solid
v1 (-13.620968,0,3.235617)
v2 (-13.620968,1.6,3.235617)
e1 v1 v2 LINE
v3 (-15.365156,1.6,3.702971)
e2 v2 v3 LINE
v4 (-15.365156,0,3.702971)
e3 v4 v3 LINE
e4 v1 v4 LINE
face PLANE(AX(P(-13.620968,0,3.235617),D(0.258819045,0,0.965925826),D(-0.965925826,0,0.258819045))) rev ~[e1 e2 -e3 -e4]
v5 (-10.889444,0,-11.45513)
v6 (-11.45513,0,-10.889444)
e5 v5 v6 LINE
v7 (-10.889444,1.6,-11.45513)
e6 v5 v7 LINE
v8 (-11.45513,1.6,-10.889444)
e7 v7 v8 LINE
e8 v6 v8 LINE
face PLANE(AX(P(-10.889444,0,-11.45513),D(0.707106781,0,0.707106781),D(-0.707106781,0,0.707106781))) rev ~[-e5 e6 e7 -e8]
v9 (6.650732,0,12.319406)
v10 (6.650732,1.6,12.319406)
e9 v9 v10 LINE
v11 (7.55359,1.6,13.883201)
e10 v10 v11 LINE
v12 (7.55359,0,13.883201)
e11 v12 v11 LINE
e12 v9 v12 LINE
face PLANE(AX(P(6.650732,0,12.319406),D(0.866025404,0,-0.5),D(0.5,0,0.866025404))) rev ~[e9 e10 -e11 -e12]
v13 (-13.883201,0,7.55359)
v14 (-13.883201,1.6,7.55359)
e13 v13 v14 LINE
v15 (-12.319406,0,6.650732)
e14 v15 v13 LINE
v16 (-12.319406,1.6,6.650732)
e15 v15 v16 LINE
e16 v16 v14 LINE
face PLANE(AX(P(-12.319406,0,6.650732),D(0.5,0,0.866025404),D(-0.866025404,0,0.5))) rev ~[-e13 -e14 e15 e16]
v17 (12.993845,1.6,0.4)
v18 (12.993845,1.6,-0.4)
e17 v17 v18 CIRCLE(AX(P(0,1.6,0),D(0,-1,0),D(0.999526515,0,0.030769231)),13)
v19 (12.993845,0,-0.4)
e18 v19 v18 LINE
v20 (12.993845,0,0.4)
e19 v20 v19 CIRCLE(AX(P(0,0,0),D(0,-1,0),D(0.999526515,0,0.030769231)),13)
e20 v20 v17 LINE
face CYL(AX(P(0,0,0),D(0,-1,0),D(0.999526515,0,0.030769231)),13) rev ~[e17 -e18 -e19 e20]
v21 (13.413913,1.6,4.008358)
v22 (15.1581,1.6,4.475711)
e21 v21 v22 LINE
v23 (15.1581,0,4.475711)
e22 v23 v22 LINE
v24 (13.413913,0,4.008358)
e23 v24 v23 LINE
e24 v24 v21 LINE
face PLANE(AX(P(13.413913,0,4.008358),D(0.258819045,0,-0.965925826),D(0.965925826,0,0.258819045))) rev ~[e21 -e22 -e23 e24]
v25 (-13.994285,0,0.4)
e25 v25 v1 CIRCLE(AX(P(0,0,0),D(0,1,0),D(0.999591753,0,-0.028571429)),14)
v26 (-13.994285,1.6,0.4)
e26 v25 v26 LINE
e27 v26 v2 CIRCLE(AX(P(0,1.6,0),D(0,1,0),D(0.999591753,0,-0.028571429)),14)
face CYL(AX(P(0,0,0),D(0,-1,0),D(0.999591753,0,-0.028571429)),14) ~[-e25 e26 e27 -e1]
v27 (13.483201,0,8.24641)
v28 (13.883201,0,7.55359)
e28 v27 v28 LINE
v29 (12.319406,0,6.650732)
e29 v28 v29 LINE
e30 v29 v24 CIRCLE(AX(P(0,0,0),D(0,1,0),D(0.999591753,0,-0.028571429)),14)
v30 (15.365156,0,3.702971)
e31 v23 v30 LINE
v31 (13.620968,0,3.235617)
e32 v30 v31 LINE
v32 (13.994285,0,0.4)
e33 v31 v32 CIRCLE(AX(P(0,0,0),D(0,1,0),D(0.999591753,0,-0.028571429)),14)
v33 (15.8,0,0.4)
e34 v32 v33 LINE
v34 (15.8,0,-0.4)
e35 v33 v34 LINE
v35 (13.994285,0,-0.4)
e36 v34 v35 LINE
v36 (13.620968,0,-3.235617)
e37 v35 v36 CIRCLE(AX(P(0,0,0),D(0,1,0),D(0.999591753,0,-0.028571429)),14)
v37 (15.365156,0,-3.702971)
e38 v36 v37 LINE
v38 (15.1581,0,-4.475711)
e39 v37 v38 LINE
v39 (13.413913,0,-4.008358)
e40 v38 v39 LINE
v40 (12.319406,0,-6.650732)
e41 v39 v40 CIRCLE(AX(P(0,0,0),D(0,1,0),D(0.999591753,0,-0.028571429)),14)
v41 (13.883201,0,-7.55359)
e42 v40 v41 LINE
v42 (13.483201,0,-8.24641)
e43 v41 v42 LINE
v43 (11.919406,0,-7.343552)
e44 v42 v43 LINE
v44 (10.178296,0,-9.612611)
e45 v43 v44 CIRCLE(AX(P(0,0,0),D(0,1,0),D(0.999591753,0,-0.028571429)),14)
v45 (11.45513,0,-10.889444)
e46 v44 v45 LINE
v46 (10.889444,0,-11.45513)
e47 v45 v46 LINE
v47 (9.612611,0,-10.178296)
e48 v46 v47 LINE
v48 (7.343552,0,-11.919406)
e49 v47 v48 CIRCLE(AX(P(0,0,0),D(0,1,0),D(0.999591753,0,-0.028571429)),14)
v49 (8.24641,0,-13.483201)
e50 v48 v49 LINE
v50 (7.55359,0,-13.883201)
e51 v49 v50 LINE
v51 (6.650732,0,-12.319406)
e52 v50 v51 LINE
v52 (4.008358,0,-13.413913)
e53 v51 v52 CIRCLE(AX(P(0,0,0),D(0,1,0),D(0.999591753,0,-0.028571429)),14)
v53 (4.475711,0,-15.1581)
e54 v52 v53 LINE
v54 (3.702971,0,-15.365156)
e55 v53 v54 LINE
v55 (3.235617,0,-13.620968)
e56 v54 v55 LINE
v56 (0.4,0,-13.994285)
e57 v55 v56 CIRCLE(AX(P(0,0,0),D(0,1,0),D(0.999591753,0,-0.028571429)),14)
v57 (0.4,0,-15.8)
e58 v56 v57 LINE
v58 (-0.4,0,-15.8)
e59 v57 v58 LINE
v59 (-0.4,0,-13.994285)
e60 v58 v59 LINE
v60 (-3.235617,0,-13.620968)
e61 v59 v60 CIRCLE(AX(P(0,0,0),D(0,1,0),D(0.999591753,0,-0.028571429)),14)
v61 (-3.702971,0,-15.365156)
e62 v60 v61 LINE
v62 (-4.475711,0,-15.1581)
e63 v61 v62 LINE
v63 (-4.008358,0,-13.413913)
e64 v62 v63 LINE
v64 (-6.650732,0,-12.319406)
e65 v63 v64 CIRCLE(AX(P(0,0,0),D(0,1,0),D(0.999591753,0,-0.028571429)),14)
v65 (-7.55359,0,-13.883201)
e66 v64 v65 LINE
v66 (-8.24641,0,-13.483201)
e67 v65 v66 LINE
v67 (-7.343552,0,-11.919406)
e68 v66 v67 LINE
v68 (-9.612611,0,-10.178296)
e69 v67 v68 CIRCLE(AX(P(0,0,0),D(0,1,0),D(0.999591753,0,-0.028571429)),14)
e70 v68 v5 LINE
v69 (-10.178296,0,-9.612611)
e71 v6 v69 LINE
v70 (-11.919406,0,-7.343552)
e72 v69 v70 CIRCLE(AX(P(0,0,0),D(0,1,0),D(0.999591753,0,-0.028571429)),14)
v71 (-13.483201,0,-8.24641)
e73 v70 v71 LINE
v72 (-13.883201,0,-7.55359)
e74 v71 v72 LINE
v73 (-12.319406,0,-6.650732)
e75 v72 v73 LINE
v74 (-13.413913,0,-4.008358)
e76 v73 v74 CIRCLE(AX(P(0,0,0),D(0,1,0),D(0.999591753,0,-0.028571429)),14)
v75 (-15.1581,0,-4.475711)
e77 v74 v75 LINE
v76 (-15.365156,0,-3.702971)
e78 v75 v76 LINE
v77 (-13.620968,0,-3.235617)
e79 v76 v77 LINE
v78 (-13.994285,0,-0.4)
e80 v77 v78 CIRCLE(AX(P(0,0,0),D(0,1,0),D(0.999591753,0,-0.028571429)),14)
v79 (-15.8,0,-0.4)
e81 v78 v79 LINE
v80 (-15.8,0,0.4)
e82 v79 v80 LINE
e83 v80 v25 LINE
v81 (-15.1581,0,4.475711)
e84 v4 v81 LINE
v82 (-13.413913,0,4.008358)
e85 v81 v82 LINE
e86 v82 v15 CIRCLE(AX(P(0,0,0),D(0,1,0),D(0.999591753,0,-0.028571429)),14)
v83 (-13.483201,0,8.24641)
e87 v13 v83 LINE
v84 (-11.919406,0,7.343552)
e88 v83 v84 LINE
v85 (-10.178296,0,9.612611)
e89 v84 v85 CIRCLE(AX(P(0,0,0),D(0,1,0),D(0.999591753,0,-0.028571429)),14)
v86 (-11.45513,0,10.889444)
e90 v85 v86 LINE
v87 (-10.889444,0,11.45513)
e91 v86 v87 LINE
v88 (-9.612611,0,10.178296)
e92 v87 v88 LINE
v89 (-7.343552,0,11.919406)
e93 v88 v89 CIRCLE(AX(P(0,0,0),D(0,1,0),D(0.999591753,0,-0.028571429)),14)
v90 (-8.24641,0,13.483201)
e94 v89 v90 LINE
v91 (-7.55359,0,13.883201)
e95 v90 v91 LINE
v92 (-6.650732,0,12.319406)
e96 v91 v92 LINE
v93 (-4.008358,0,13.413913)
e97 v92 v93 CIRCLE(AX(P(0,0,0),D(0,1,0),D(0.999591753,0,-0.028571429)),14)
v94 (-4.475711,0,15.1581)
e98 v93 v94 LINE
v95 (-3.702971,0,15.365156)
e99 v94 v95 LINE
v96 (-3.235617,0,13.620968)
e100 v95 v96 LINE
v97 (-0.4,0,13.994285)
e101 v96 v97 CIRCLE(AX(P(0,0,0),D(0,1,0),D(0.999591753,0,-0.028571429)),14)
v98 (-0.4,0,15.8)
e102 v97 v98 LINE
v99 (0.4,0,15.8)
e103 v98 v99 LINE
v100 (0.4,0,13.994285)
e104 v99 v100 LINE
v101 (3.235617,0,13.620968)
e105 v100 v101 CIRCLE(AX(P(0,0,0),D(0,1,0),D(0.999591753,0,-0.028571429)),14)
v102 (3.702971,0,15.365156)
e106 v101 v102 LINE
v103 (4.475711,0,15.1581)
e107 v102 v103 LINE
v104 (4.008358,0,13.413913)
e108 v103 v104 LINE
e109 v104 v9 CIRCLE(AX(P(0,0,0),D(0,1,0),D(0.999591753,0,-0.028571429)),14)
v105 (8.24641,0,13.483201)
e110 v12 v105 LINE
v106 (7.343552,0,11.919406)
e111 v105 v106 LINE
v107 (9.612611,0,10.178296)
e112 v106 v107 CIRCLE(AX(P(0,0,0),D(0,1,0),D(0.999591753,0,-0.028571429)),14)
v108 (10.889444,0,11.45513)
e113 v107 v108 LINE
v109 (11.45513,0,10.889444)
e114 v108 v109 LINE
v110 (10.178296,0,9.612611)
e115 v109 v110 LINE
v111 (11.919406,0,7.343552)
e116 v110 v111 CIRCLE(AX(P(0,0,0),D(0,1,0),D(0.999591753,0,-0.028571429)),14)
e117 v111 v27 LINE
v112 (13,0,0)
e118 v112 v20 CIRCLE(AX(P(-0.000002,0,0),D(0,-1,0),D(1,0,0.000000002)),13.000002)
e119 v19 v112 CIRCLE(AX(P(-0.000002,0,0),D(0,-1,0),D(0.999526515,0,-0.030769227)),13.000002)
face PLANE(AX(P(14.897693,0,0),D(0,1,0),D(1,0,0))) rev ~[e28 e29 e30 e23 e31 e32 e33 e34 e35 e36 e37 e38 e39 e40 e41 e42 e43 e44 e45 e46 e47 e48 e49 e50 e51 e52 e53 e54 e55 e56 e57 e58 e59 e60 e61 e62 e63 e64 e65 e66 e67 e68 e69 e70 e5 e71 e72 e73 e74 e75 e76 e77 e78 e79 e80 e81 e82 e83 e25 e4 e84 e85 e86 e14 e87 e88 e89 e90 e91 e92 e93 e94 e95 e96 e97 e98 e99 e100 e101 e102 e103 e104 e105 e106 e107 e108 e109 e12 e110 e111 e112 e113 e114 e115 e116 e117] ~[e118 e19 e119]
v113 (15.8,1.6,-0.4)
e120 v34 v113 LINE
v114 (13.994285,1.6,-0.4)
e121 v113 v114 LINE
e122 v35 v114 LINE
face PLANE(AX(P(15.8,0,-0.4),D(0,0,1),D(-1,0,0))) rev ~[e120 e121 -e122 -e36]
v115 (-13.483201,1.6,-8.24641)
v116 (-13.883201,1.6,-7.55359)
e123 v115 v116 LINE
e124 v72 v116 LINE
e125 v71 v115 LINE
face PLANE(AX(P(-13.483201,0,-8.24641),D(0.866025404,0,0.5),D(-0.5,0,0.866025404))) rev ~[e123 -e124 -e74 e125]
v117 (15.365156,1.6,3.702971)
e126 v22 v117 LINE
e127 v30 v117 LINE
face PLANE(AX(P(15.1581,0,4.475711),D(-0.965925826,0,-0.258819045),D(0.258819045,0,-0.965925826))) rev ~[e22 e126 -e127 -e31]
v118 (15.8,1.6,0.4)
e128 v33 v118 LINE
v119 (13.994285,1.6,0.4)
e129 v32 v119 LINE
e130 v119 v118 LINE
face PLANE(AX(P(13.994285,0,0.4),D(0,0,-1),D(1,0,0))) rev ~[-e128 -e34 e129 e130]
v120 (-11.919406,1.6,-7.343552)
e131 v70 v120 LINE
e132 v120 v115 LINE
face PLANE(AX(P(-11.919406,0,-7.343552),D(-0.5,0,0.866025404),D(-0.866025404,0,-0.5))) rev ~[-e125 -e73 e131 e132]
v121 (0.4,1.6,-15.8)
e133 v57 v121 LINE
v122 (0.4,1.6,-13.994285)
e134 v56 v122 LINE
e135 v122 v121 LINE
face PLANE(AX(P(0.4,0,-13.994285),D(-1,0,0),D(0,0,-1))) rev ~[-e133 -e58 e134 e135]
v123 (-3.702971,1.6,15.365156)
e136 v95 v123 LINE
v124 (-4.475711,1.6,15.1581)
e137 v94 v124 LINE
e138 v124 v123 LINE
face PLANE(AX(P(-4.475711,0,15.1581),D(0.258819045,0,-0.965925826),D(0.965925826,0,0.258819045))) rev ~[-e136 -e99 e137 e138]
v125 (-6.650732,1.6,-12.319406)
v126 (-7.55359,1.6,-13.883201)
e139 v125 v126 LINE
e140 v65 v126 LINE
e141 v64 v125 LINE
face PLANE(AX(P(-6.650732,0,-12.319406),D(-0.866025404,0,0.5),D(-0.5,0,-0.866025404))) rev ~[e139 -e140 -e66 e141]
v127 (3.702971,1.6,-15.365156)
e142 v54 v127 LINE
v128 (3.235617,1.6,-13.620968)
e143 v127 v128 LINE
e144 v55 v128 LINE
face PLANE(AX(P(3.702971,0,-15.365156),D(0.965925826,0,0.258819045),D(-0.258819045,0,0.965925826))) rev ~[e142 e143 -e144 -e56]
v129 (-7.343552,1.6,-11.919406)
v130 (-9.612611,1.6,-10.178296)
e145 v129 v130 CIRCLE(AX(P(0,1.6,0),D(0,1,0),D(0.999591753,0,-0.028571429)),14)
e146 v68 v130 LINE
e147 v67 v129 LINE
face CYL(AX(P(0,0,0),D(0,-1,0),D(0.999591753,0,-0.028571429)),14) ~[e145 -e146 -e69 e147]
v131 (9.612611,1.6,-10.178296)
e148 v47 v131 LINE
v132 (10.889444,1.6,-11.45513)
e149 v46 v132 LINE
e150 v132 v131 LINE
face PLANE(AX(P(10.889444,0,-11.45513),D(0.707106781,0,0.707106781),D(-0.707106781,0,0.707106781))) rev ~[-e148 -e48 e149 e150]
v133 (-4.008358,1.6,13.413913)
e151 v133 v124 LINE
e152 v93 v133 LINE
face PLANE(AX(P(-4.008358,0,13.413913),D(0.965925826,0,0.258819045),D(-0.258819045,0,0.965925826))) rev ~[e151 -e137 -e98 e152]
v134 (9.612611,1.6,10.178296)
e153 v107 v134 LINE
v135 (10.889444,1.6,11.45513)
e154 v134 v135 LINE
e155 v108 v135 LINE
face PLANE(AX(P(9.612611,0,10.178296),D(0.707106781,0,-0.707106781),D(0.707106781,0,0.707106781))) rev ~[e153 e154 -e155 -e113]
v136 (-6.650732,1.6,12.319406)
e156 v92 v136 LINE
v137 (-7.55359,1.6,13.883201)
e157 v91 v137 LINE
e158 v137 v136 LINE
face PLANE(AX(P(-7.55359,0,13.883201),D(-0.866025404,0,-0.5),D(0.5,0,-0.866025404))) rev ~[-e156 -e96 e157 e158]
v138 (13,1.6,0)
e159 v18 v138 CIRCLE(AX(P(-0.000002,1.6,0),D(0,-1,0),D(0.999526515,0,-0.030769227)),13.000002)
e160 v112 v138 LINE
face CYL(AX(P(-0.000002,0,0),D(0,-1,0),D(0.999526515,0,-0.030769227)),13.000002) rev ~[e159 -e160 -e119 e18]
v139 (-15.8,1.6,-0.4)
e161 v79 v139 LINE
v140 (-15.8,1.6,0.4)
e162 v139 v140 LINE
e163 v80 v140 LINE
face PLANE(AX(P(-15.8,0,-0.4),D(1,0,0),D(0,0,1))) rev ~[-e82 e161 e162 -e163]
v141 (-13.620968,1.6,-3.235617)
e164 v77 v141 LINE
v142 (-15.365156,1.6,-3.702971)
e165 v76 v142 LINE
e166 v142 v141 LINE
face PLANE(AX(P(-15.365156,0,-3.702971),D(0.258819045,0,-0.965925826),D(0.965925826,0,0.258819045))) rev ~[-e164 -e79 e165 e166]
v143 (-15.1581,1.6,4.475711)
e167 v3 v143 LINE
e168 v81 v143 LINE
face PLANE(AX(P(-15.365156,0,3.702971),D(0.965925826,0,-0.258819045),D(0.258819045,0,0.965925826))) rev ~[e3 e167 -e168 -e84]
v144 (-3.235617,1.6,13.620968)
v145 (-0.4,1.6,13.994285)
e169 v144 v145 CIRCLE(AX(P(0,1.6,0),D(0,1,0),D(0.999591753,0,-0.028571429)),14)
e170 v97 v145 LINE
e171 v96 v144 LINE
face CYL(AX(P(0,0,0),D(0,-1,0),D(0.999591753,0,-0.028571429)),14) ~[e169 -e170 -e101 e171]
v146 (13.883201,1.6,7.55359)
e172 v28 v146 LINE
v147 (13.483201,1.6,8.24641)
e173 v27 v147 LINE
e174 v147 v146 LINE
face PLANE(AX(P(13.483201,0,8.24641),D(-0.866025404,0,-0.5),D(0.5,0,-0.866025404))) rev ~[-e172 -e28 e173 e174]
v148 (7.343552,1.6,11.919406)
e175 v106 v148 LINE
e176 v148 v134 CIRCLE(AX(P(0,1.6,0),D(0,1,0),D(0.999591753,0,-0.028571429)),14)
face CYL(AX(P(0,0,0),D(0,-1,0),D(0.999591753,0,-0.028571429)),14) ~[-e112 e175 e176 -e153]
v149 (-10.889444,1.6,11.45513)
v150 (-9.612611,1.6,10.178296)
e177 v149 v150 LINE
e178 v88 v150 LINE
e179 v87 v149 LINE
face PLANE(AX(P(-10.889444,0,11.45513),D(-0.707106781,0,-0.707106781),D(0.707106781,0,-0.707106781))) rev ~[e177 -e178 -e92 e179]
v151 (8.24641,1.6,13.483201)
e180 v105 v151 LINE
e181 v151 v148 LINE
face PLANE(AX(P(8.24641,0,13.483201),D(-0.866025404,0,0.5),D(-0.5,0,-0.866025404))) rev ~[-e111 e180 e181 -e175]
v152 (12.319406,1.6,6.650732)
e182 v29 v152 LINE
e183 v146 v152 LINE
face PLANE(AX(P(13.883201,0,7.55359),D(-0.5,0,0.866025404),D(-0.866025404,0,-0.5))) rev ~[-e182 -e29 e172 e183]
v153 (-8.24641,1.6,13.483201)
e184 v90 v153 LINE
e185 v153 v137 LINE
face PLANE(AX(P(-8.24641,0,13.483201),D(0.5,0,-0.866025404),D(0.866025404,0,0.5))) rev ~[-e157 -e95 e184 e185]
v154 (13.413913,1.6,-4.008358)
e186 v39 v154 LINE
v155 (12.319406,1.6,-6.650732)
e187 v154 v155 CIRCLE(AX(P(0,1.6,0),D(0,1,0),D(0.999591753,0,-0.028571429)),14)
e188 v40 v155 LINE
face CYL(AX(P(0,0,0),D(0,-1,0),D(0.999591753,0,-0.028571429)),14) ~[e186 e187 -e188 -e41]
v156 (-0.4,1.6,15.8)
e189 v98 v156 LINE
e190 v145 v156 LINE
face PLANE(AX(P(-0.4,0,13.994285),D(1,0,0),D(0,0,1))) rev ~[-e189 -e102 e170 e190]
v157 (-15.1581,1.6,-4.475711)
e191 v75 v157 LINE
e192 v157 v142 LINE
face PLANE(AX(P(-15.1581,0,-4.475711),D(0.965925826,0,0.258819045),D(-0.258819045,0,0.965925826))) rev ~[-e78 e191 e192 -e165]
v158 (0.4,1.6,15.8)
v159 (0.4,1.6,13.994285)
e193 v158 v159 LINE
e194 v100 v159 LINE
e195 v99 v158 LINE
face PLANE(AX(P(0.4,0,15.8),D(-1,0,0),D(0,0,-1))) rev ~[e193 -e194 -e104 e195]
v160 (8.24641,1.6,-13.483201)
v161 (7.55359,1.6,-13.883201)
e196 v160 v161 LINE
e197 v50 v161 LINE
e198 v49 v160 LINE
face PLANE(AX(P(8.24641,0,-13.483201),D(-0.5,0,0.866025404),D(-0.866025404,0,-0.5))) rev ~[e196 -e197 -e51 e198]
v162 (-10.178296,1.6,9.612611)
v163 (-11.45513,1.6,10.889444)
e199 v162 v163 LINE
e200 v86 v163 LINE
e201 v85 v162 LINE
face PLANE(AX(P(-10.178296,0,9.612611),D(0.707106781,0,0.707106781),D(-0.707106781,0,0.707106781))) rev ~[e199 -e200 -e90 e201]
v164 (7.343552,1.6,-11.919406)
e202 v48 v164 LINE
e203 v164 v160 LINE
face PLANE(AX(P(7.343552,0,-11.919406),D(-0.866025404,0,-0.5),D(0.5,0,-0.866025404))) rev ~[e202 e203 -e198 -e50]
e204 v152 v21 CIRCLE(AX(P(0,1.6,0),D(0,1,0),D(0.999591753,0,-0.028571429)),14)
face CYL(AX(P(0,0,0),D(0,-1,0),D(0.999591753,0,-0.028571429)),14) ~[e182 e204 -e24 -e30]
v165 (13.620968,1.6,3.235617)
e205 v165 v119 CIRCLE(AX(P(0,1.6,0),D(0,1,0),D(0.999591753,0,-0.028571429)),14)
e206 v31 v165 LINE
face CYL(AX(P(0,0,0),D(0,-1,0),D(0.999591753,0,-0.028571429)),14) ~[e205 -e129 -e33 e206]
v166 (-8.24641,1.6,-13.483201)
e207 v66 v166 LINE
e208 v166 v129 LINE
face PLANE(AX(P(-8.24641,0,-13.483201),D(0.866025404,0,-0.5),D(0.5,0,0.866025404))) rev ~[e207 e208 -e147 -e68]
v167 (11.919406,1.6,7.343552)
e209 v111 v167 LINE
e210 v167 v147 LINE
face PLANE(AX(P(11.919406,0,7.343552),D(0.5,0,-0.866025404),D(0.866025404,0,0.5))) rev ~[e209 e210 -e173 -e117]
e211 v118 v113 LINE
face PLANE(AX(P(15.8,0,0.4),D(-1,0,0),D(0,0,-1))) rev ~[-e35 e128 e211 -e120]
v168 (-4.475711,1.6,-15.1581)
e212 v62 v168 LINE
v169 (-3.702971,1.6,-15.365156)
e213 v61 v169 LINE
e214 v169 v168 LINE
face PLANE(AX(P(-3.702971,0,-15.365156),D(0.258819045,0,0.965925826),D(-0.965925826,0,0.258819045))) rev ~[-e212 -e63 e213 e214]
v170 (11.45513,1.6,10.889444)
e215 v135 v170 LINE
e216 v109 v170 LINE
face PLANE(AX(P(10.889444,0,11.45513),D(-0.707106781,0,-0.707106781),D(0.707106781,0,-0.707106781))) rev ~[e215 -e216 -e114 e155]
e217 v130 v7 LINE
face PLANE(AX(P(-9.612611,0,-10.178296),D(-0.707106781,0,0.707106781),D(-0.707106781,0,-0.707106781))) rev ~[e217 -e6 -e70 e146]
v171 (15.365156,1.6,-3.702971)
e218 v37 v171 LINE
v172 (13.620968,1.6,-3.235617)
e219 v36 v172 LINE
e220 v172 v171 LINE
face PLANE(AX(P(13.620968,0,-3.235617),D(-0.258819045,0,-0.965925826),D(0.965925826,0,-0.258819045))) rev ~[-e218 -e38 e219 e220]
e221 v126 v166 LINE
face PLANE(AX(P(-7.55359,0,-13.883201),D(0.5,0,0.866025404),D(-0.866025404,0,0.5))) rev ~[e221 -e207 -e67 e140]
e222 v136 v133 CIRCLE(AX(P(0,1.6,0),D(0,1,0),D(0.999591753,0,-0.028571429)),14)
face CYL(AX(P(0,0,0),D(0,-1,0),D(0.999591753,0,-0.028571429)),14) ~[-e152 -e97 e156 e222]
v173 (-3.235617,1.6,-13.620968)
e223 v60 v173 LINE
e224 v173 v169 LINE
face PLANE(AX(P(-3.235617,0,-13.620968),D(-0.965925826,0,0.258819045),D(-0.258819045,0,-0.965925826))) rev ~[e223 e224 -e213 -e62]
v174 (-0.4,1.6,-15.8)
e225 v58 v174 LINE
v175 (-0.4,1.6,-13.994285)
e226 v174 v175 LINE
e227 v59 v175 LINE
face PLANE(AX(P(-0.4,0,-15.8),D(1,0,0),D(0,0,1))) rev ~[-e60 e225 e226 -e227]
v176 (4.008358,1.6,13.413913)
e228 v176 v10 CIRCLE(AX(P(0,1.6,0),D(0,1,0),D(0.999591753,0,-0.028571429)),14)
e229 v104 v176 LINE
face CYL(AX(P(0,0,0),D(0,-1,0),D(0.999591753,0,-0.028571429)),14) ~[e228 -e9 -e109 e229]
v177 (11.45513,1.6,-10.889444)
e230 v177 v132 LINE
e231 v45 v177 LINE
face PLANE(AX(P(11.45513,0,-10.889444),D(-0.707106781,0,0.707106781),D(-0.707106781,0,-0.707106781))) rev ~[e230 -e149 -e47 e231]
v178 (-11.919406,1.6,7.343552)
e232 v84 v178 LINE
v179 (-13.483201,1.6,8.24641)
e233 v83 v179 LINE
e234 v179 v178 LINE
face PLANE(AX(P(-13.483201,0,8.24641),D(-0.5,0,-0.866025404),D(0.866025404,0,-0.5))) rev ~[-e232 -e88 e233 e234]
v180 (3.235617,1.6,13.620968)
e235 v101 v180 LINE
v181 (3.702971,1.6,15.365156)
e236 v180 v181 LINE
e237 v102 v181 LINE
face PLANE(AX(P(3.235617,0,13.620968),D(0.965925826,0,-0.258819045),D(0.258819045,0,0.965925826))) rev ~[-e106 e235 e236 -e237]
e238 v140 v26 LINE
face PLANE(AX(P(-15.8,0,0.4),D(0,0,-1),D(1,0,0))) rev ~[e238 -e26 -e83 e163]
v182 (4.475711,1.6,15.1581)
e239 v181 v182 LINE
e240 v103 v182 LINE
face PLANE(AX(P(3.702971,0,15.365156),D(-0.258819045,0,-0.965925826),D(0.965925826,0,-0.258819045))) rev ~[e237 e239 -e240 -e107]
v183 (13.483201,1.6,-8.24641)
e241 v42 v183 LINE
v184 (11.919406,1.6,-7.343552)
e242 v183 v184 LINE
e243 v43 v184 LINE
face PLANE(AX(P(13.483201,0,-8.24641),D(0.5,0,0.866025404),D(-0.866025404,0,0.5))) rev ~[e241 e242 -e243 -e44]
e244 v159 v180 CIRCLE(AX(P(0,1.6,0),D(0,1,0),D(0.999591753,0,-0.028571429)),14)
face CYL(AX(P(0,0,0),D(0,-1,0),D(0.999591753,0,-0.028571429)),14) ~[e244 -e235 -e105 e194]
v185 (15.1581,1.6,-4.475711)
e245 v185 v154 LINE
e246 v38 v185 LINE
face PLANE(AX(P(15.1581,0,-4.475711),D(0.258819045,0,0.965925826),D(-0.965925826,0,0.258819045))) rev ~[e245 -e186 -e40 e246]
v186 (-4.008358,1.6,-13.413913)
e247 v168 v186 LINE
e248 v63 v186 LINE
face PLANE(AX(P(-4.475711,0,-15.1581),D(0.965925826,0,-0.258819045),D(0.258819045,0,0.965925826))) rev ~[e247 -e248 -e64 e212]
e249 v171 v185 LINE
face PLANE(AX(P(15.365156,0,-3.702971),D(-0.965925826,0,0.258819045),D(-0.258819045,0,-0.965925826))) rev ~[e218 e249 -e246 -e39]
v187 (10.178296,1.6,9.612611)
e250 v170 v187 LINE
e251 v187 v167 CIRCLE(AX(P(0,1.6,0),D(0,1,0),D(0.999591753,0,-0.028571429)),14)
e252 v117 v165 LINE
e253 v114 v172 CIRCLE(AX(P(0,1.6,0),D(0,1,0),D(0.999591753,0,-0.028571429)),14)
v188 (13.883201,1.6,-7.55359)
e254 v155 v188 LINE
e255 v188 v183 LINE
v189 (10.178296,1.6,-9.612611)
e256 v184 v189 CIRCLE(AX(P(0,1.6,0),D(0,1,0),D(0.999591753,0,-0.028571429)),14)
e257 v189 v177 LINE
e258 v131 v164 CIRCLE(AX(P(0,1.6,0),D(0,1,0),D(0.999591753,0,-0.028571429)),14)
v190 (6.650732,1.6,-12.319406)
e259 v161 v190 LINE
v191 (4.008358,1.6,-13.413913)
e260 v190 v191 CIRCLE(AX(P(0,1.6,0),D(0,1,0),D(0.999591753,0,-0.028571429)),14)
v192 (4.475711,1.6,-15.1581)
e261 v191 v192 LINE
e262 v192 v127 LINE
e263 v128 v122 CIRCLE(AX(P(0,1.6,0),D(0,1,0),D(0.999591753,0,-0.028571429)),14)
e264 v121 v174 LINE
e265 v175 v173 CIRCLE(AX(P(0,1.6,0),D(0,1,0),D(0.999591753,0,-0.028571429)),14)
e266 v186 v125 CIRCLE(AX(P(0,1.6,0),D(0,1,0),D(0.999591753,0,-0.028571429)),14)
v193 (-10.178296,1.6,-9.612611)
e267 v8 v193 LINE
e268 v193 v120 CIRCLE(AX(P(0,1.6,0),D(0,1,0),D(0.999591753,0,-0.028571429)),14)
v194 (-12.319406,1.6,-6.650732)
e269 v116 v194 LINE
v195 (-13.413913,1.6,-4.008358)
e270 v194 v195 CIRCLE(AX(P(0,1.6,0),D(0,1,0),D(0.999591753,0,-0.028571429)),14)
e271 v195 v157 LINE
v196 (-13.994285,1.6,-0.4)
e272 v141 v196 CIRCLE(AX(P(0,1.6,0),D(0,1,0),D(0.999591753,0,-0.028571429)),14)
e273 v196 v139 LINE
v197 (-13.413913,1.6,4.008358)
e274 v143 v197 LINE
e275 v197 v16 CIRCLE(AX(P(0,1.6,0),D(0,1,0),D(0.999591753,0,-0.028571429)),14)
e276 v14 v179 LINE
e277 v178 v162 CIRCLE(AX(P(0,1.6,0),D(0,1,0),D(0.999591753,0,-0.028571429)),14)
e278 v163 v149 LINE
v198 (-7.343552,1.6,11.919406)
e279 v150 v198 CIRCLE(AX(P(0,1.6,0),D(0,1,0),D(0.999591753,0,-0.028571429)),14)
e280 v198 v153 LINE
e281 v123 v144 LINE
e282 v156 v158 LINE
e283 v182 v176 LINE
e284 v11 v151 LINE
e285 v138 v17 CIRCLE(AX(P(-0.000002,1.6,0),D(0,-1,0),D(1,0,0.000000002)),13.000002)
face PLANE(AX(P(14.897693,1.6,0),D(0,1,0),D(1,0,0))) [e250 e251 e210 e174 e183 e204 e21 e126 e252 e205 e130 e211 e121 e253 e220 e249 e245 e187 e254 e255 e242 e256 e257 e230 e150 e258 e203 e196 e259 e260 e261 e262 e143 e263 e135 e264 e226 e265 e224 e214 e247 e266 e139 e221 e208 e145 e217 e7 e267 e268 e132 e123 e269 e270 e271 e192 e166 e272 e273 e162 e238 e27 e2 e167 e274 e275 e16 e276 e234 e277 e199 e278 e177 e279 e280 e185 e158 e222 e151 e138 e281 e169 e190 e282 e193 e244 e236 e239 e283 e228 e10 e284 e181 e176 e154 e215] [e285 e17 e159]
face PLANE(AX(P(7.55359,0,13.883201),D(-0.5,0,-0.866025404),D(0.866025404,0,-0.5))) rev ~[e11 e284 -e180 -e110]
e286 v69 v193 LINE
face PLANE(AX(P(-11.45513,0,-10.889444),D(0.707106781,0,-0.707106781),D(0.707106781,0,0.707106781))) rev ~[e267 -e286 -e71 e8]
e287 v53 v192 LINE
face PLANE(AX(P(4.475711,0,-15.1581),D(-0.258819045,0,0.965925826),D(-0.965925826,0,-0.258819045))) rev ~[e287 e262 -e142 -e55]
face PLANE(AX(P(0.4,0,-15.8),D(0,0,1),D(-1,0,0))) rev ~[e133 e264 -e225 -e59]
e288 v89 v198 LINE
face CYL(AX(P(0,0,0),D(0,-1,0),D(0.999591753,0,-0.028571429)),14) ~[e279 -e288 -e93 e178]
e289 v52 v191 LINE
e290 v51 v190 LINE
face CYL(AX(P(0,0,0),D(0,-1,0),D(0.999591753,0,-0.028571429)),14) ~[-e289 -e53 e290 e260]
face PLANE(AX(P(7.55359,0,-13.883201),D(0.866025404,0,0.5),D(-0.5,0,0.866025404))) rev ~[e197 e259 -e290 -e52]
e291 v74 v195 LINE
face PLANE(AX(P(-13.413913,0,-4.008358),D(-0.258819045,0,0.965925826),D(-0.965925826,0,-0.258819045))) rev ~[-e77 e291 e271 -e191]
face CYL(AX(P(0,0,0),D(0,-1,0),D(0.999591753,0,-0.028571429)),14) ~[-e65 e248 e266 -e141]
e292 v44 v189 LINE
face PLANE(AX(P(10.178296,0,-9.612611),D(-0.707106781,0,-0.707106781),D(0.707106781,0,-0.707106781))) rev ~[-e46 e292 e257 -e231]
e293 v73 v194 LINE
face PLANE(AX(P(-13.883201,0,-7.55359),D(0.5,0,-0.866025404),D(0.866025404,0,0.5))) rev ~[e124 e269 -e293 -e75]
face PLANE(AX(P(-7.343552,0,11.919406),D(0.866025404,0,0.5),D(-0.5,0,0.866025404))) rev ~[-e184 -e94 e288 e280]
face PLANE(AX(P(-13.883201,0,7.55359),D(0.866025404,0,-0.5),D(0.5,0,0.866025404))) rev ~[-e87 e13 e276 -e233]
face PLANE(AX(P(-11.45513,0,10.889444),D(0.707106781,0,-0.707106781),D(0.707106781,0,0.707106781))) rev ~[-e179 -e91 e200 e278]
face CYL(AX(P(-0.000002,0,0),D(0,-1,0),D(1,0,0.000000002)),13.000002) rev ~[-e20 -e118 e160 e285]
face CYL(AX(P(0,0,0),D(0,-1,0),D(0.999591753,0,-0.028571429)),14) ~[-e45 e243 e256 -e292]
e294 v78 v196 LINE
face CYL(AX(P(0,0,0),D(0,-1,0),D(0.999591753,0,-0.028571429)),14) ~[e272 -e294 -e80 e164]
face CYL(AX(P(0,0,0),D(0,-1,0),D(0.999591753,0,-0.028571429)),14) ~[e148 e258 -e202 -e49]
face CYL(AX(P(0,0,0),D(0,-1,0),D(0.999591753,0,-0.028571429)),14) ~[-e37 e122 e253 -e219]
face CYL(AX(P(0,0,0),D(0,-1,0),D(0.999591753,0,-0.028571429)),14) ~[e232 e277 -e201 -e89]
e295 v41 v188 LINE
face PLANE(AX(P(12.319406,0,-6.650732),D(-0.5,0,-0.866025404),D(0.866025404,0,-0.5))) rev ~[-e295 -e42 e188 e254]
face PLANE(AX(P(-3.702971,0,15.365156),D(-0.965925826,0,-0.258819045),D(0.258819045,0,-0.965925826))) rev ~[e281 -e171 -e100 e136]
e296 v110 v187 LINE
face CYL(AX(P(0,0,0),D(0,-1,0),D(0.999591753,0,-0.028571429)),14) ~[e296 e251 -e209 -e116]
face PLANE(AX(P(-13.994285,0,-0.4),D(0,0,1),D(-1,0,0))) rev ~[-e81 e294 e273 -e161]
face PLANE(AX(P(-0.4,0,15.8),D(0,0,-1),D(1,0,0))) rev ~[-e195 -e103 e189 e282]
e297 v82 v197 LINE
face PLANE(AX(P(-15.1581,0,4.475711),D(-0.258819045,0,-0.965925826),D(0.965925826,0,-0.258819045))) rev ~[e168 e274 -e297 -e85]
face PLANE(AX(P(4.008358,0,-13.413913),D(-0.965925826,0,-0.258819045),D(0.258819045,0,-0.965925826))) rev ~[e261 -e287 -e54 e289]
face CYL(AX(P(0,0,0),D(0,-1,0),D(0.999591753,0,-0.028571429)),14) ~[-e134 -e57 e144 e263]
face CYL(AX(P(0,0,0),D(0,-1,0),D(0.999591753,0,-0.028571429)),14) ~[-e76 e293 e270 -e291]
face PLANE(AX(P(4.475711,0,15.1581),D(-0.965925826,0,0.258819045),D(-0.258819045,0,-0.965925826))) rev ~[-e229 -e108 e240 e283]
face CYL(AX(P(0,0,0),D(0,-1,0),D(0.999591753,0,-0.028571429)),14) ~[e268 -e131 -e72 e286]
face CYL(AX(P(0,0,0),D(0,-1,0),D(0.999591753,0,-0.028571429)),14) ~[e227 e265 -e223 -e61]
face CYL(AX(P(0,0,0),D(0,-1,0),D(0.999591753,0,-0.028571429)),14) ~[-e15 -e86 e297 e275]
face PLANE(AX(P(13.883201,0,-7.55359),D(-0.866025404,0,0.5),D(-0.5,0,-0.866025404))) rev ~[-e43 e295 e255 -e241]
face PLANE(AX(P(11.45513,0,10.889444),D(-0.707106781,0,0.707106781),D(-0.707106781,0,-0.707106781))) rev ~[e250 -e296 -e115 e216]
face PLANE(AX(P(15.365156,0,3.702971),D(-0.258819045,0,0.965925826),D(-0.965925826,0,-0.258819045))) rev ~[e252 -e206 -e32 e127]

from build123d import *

# Parameters (mm, degrees)
BOSS_EXTRU_1_DEPTH           = 1.6
BOSS_EXTRU_2_DEPTH           = 1.6
R_P_TITION_CIRCULAIRE1_COUNT = 24


with BuildPart() as part:
    # Esquisse1 → Boss.-Extru.1 (new body)
    with BuildSketch(Plane(origin=(0, 0, 0), x_dir=(1, 0, 0), z_dir=(0, 1, 0))):
        with BuildLine():
            ThreePointArc((12.993844697, -0.4), (-13, 0), (12.993844697, 0.4))
            Line((12.993844697, 0.4), (13.994284548, 0.4))
            ThreePointArc((13.994284548, 0.4), (-14, 0), (13.994284548, -0.4))
            Line((13.994284548, -0.4), (12.993844697, -0.4))
        make_face()
        with BuildLine():
            Line((13.994284548, 0.4), (12.993844697, 0.4))
            ThreePointArc((12.993844697, 0.4), (12.998461083, 0.200023678), (13, 0))
            ThreePointArc((13, 0), (12.998461083, -0.200023678), (12.993844697, -0.4))
            Line((12.993844697, -0.4), (13.994284548, -0.4))
            ThreePointArc((13.994284548, -0.4), (13.998571064, -0.200020415), (14, 0))
            ThreePointArc((14, 0), (13.998571064, 0.200020415), (13.994284548, 0.4))
        make_face()
    extrude(amount=BOSS_EXTRU_1_DEPTH)

    # Esquisse1<3> → Boss.-Extru.2 (add)
    with BuildSketch(Plane(origin=(0, 0, 0), x_dir=(1, 0, 0), z_dir=(0, 1, 0))):
        with BuildLine():
            Line((15.8, 0.4), (13.994284548, 0.4))
            ThreePointArc((13.994284548, 0.4), (13.998571064, 0.200020415), (14, 0))
            ThreePointArc((14, 0), (13.998571064, -0.200020415), (13.994284548, -0.4))
            Line((13.994284548, -0.4), (15.8, -0.4))
            Line((15.8, -0.4), (15.8, 0.4))
        make_face()
    boss_extru_2 = extrude(amount=BOSS_EXTRU_2_DEPTH)

    # Répétition circulaire1: Boss.-Extru.2 ×24 about axis
    r_p_tition_circulaire1_axis = Axis((0, 0, 0), (0, 1, 0))
    for i in range(1, R_P_TITION_CIRCULAIRE1_COUNT):
        add(boss_extru_2.rotate(r_p_tition_circulaire1_axis, i * 360 / R_P_TITION_CIRCULAIRE1_COUNT))


solid = part.part
